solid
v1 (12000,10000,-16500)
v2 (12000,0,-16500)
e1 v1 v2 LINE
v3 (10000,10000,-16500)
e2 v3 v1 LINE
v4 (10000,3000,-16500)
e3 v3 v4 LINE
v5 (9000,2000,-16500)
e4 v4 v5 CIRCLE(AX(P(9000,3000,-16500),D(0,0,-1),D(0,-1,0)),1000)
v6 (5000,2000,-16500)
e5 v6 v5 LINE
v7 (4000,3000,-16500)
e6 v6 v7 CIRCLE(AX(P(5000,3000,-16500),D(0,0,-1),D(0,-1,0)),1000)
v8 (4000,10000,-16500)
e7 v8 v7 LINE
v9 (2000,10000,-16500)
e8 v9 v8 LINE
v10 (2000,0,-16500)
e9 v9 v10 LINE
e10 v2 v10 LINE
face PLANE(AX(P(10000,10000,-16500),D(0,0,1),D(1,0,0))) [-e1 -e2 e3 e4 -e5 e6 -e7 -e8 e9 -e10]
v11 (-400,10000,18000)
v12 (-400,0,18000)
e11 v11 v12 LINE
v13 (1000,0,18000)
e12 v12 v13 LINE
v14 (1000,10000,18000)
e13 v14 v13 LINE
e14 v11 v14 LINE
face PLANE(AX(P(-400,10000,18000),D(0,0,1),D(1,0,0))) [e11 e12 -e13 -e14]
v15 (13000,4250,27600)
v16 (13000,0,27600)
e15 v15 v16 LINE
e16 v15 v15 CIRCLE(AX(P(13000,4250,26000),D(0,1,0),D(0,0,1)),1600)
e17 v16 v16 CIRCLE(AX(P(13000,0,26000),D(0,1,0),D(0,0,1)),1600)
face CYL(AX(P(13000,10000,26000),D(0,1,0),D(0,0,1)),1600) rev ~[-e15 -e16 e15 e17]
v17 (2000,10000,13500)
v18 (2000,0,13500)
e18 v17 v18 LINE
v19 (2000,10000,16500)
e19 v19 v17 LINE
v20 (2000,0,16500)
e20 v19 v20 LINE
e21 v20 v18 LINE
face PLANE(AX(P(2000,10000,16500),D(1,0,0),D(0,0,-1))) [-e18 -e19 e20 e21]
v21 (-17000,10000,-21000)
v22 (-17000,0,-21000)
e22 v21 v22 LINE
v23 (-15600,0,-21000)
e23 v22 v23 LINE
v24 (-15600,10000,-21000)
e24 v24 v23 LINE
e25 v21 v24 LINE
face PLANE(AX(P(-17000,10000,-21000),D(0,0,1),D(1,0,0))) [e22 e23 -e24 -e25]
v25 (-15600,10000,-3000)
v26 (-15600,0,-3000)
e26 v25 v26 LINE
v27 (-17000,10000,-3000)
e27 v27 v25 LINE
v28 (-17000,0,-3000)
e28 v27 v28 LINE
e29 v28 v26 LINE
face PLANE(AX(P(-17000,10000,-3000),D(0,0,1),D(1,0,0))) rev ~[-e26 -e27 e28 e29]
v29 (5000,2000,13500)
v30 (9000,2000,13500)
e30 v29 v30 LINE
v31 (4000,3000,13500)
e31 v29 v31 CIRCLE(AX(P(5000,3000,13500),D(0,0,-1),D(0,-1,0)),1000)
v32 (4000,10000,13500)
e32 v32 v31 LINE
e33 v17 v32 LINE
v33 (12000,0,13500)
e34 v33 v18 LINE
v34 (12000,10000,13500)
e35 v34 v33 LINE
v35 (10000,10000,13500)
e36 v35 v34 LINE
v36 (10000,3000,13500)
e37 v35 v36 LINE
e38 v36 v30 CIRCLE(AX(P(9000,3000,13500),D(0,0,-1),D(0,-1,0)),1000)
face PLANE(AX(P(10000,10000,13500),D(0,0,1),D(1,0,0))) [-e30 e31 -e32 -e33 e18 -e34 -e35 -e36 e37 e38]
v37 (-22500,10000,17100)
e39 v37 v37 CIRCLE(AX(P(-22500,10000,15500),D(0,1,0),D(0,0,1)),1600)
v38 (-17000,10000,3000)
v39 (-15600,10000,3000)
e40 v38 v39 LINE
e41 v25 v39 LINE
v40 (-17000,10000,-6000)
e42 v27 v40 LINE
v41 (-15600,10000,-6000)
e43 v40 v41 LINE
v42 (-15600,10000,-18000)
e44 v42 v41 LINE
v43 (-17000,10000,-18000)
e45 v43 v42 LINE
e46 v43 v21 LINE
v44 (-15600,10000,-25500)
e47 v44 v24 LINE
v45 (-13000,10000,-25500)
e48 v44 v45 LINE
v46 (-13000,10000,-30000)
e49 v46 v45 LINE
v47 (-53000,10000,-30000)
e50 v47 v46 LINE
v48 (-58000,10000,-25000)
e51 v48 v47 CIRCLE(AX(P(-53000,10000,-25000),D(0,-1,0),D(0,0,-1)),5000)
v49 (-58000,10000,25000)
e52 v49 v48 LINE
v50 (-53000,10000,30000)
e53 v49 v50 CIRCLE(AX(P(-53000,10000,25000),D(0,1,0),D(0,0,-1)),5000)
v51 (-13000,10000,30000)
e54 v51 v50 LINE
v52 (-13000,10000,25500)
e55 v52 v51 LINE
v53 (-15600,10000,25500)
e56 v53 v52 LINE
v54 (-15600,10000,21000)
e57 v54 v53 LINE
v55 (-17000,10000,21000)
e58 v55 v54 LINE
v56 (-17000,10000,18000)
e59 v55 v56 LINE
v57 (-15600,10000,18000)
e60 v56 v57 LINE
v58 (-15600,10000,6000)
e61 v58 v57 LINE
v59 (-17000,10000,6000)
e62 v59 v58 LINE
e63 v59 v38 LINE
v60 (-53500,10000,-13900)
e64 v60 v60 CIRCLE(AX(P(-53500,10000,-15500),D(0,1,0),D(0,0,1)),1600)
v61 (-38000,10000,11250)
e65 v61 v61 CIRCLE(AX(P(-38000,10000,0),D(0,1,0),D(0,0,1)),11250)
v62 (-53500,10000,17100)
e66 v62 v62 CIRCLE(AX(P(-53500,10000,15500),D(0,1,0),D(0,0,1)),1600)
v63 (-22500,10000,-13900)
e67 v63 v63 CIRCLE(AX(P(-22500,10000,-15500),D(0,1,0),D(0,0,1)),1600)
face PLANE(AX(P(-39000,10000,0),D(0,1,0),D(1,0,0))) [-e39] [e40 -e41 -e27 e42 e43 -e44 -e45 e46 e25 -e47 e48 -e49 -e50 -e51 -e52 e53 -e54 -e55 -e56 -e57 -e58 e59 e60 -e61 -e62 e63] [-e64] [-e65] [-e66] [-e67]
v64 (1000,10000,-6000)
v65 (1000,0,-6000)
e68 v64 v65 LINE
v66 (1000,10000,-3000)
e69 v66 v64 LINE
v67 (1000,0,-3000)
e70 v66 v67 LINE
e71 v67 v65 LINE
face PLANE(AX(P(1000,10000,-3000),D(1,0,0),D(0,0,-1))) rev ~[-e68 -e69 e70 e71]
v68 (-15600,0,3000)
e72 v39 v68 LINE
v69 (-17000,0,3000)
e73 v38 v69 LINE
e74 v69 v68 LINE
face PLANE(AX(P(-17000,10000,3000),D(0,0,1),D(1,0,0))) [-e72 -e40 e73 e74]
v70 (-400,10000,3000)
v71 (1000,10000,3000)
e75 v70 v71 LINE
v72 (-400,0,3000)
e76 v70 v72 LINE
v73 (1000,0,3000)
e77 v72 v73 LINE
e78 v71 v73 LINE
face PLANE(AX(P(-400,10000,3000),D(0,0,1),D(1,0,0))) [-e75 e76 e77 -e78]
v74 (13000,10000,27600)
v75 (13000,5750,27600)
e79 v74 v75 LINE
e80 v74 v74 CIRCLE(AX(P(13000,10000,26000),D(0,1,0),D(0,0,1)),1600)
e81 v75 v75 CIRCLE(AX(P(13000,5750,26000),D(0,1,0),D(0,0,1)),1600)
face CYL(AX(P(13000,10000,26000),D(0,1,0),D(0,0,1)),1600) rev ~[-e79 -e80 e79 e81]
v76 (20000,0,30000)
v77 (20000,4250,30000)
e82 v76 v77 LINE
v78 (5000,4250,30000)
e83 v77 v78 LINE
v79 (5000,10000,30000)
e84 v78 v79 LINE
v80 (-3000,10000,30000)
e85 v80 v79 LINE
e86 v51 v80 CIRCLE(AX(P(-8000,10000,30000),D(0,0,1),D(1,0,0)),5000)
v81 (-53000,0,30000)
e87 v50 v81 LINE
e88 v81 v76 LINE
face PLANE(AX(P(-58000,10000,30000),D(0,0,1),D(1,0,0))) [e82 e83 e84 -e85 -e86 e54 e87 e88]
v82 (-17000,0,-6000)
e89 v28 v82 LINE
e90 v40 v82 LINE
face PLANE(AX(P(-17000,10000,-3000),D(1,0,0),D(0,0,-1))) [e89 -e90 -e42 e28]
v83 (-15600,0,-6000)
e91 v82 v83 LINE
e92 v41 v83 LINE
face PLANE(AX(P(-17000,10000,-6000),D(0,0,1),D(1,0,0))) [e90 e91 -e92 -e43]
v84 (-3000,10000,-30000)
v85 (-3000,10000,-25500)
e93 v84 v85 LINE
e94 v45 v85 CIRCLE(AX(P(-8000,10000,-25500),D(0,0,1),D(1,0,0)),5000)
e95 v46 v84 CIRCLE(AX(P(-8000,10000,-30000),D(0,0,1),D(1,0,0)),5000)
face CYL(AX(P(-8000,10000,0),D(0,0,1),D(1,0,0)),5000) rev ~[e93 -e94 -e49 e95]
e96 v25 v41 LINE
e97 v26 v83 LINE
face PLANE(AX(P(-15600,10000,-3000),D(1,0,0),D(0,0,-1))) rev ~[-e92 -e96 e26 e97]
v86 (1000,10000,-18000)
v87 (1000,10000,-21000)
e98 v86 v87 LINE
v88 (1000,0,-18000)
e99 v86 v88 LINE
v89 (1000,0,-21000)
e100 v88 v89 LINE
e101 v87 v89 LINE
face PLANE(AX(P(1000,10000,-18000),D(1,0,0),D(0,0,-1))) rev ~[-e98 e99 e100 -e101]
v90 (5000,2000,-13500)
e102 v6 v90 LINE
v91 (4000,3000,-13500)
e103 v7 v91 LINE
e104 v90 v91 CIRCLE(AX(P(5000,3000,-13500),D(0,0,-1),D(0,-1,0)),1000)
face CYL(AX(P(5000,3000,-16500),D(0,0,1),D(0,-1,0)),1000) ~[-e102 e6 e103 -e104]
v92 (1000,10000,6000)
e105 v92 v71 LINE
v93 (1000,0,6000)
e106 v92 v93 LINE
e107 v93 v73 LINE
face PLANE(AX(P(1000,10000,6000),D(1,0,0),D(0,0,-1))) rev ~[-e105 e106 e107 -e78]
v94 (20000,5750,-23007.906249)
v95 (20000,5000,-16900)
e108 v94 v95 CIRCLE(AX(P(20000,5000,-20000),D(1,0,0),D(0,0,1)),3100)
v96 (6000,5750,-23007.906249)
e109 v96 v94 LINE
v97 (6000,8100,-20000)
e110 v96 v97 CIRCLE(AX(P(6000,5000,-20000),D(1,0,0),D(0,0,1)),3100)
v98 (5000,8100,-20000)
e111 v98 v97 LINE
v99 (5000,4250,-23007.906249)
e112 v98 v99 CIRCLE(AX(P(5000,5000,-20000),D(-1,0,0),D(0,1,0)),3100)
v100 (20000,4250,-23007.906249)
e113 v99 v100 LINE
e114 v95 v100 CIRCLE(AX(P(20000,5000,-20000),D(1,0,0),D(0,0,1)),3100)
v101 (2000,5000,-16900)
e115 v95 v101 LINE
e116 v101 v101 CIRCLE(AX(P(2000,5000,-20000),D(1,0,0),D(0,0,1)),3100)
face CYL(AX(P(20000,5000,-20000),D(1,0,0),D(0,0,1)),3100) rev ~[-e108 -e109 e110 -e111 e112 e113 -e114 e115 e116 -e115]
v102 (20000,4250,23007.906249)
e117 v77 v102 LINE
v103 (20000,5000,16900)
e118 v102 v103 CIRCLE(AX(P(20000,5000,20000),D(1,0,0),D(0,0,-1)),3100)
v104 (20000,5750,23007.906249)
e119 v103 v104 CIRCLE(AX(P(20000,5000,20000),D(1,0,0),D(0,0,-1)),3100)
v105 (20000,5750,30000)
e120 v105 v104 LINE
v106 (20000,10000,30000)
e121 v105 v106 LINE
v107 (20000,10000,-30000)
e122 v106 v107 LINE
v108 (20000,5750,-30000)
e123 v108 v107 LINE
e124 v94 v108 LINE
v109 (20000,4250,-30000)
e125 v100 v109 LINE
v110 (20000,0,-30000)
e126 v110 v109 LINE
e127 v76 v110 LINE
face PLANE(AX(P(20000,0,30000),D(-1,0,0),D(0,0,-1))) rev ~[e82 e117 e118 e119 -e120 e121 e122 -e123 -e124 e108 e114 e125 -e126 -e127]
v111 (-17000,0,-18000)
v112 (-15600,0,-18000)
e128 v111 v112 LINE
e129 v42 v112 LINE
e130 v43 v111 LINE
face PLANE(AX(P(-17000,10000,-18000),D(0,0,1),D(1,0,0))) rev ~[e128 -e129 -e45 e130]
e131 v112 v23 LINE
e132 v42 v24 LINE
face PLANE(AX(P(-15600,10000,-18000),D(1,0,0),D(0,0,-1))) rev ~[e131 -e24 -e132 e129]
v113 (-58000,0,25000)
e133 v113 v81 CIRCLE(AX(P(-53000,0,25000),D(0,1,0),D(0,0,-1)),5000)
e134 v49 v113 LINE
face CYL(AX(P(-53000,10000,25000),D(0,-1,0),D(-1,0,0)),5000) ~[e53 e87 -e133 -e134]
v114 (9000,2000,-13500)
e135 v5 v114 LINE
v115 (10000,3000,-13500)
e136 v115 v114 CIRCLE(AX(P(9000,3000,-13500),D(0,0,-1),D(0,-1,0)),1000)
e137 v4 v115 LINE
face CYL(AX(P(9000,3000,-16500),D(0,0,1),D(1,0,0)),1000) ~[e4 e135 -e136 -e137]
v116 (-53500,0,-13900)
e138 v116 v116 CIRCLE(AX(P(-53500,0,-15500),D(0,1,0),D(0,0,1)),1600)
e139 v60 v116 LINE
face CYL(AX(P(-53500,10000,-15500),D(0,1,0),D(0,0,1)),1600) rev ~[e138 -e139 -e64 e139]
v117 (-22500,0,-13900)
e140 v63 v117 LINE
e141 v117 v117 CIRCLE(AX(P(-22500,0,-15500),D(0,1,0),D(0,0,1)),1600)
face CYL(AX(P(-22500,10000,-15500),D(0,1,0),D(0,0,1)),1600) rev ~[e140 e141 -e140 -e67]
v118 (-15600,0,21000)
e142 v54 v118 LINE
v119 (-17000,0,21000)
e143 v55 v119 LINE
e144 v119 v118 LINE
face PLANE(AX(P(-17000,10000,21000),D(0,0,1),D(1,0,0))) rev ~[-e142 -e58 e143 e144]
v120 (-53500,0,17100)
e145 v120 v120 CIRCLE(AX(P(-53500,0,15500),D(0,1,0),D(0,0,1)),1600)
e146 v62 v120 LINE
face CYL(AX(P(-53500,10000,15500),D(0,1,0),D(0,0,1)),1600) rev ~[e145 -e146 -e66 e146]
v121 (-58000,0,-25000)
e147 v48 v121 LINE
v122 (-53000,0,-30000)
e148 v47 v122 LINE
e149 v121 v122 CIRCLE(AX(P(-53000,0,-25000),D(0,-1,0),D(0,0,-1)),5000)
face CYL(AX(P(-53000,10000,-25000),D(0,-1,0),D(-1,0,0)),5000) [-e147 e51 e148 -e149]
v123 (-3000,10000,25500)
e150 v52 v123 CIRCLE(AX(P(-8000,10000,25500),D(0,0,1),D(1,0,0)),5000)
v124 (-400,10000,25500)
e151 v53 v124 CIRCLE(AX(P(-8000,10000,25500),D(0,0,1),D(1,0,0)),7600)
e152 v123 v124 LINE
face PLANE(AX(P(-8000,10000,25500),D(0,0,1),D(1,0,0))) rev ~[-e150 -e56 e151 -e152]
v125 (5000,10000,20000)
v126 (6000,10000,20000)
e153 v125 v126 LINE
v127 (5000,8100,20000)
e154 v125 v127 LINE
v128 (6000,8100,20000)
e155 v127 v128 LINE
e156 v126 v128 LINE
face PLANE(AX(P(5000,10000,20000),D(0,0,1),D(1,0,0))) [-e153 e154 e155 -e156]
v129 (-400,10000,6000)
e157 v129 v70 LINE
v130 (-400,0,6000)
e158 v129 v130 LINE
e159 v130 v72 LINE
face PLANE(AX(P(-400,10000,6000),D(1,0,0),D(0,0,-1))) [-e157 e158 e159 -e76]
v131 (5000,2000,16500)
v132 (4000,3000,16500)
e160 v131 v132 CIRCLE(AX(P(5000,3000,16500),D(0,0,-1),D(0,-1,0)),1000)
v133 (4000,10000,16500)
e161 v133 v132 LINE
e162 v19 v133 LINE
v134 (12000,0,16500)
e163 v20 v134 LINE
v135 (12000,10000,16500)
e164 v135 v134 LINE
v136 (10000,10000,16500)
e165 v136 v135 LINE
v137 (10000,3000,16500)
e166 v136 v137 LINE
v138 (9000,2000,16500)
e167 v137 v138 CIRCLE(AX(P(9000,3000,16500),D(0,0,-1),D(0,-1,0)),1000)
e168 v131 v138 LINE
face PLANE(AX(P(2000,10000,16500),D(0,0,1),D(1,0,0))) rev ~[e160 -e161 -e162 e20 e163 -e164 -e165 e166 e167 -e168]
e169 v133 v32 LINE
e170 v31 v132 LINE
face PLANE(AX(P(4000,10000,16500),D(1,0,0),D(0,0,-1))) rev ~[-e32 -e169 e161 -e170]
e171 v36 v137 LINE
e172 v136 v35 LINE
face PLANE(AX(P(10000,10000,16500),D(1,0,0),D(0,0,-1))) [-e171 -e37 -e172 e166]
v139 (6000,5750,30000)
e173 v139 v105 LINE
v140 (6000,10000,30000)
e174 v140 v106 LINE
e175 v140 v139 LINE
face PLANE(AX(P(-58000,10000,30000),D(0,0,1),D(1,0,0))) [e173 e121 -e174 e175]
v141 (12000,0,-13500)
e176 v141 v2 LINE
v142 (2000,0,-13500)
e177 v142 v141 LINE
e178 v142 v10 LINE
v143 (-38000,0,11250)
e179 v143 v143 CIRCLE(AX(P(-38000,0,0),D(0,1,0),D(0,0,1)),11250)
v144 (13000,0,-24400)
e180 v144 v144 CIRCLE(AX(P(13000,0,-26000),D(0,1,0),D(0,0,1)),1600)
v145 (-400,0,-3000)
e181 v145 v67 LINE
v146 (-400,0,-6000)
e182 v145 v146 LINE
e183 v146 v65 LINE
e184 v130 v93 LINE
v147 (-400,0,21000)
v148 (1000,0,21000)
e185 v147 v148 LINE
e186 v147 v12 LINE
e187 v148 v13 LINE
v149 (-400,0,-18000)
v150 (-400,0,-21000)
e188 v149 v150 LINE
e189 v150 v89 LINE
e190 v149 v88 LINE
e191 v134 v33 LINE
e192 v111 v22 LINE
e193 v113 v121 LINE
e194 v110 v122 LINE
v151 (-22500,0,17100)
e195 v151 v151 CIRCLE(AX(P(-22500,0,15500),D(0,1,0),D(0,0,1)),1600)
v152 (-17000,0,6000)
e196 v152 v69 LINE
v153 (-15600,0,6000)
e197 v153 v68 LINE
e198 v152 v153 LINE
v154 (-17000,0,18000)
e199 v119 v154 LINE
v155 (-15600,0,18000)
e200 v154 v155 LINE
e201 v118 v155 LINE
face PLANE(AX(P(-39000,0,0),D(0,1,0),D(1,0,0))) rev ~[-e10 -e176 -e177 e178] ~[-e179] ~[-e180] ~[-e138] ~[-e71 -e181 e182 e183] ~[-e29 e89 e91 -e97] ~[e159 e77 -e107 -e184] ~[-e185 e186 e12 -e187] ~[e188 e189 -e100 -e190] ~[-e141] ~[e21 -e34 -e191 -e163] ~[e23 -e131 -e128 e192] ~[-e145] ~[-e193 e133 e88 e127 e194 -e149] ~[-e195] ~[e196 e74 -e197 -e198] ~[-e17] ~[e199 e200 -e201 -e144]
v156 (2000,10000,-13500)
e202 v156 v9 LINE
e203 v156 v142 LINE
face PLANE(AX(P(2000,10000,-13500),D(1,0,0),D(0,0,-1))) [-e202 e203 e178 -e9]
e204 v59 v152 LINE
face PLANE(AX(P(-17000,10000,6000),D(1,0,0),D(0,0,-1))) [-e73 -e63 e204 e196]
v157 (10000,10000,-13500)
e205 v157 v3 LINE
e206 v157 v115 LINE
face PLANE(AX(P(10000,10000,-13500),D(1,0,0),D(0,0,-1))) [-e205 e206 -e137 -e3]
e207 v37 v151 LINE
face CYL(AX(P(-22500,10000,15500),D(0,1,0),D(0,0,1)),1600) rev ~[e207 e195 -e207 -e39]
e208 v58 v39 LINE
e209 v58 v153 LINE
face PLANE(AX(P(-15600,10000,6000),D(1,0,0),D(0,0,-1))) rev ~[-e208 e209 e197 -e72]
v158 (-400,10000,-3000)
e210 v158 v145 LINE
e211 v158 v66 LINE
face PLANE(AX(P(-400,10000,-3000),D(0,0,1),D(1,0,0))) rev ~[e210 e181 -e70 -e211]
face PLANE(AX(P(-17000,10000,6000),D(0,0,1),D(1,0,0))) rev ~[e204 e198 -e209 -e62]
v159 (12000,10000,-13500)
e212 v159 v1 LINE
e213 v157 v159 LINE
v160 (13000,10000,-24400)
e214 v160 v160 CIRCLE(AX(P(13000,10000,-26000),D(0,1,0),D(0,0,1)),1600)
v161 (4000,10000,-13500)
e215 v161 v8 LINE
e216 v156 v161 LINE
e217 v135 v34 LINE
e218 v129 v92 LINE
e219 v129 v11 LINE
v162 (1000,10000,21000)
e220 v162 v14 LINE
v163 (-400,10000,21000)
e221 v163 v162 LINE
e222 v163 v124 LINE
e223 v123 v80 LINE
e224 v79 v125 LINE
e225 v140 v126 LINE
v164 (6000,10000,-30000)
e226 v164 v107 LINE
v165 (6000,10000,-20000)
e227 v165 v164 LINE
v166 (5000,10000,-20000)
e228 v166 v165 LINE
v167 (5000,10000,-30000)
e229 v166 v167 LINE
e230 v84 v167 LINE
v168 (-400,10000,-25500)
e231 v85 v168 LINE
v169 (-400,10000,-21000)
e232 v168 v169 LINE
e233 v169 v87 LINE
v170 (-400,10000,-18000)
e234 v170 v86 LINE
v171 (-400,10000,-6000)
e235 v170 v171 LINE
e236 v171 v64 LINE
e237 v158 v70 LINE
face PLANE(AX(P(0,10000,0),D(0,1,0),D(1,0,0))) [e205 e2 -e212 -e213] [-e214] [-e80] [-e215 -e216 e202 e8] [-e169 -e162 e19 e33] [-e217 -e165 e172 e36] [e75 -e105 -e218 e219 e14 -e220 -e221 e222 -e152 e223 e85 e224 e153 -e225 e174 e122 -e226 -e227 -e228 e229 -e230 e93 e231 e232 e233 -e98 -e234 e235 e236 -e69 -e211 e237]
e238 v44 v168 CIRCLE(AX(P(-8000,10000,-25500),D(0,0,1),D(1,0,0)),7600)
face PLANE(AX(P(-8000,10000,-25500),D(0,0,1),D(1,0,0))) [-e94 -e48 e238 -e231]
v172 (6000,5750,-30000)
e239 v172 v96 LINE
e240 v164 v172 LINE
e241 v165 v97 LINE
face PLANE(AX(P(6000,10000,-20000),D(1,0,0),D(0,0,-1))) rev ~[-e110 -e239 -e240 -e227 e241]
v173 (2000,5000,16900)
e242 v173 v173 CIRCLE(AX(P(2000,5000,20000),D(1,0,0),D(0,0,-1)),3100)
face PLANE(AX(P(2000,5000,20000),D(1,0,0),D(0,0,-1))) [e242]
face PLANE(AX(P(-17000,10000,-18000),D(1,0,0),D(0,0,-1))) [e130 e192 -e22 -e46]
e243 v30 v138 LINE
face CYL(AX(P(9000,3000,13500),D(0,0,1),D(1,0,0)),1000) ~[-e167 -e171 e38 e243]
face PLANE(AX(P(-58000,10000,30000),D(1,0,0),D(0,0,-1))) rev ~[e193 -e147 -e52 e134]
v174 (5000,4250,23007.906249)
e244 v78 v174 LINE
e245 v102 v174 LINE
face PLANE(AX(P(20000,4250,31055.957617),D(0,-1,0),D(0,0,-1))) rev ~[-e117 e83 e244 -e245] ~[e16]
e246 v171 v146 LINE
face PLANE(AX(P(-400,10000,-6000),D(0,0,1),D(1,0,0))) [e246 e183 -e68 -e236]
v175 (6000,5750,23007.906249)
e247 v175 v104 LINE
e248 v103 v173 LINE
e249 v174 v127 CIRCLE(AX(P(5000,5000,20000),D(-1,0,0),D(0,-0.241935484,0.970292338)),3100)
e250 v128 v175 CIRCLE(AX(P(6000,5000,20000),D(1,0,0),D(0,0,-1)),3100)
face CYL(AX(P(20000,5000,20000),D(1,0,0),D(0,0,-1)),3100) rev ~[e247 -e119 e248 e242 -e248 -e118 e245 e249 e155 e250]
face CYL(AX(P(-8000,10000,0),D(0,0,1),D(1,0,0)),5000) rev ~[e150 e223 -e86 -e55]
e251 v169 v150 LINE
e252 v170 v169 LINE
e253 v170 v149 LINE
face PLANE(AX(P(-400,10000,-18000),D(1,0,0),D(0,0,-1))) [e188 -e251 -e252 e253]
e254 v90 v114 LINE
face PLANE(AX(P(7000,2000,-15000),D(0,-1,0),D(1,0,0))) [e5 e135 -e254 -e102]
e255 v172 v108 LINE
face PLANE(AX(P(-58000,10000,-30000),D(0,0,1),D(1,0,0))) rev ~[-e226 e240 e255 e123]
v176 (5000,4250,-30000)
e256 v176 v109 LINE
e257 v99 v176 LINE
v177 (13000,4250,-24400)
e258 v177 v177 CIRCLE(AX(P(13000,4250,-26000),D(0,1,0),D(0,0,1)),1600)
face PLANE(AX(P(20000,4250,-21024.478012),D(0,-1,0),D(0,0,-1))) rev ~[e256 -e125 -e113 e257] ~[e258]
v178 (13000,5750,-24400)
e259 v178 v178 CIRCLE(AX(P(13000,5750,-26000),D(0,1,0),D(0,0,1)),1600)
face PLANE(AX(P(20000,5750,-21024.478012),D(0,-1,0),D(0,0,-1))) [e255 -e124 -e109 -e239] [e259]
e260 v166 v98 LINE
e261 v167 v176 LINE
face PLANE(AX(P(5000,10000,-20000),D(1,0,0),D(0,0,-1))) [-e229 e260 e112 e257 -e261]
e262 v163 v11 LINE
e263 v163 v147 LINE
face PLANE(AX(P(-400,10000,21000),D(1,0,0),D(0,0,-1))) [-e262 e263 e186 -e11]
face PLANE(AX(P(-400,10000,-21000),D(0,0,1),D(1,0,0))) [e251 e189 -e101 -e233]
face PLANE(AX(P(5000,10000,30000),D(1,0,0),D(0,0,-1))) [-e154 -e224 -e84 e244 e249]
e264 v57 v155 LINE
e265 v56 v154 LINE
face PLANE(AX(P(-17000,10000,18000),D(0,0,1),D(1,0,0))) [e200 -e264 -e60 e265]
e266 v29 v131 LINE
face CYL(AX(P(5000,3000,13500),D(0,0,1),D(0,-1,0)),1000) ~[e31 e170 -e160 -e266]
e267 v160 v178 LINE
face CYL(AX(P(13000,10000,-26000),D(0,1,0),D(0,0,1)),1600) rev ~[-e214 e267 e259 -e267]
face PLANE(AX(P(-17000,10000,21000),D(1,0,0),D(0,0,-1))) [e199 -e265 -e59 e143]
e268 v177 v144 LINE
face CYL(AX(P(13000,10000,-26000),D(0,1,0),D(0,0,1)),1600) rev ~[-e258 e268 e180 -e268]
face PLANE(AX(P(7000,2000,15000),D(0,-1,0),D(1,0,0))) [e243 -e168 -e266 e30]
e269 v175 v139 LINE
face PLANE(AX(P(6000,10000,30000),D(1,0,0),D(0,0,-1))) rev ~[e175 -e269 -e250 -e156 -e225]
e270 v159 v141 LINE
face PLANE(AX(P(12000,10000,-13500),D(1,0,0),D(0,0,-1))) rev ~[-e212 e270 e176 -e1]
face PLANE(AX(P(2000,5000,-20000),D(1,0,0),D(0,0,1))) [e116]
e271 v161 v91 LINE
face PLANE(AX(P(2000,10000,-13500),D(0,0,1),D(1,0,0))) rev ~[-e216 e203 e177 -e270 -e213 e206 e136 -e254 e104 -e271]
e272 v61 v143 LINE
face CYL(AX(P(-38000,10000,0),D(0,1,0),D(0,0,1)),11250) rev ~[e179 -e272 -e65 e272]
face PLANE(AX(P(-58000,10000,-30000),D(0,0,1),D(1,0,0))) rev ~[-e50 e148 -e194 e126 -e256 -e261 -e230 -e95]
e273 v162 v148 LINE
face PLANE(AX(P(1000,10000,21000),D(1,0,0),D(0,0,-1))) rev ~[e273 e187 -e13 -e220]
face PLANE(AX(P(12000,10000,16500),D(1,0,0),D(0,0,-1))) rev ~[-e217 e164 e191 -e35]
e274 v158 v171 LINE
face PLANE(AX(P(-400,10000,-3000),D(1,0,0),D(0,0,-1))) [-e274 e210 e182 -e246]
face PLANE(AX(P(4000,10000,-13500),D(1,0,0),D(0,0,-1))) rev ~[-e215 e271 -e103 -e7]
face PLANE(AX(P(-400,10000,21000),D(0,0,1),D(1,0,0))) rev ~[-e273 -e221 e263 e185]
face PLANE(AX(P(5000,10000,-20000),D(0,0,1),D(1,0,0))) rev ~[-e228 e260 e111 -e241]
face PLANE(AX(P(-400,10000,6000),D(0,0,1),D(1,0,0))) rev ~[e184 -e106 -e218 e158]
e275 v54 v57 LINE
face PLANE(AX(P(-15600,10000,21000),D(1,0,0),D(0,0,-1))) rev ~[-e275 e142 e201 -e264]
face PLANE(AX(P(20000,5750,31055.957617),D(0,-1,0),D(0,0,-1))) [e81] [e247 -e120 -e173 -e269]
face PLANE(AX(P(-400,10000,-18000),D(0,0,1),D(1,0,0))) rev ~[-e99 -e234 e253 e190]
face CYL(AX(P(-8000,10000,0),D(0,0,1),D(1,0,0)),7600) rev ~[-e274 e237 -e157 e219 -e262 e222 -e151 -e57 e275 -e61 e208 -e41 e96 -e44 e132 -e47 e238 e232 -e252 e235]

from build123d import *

# Parameters (mm, degrees)
SKETCH_2_W           = 40000
SKETCH_2_H           = 60000
EXTRUDE_1_DEPTH      = 10000
SKETCH_4_R           = 7600
CUT_EXTRUDE_2_DEPTH  = 25500
SKETCH_5_R           = 5000
CUT_EXTRUDE_3_DEPTH  = 40000
SKETCH_6_W           = 2000
SKETCH_6_H           = 3000
CUT_EXTRUDE_4_DEPTH  = 80000
SKETCH_12_W          = 38000
SKETCH_12_H          = 60000
SKETCH_12_R          = 1600
SKETCH_12_R_2        = 11250
EXTRUDE_2_DEPTH      = 10000
SKETCH_13_R          = 3100
CUT_EXTRUDE_6_DEPTH  = 18000
SKETCH_16_W          = 10031.479605139
SKETCH_16_H          = 1500
CUT_EXTRUDE_7_DEPTH  = 15000
CUT_EXTRUDE_8_REACH  = 66062.578
SKETCH_17_W          = 1000
SKETCH_17_H          = 10000
SKETCH_18_R          = 1600
CUT_EXTRUDE_9_DEPTH  = 15000
SKETCH_19_W          = 1400
SKETCH_19_H          = 3000
CUT_EXTRUDE_10_DEPTH = 15000
FILLET_1_R           = 5000
SKETCH_20_W          = 6000
SKETCH_20_H          = 3000
CUT_EXTRUDE_11_DEPTH = 2000
FILLET_2_R           = 1000


with BuildPart() as part:
    # 草圖2 → 填料-伸長1 (new body)
    with BuildSketch(Plane(origin=(0, 0, 0), x_dir=(1, 0, 0), z_dir=(0, 1, 0))):
        Rectangle(SKETCH_2_W, SKETCH_2_H)
    extrude(amount=EXTRUDE_1_DEPTH)

    # 草圖4 → 除料-伸長2 (cut, symmetric)
    with BuildSketch(Plane.XY):
        with Locations((-8000, 10000)):
            Circle(SKETCH_4_R)
    extrude(amount=CUT_EXTRUDE_2_DEPTH, both=True, mode=Mode.SUBTRACT)

    # 草圖5 → 除料-伸長3 (cut, symmetric)
    with BuildSketch(Plane.XY):
        with Locations((-8000, 10000)):
            Circle(SKETCH_5_R)
    extrude(amount=CUT_EXTRUDE_3_DEPTH, both=True, mode=Mode.SUBTRACT)

    # 草圖6 → 除料-伸長4 (cut)
    with BuildSketch(Plane(origin=(0, 10000, 0), x_dir=(1, 0, 0), z_dir=(0, 1, 0))):
        with Locations((11000, -15000)):
            Rectangle(SKETCH_6_W, SKETCH_6_H)
        with Locations((3000, 15000)):
            Rectangle(SKETCH_6_W, SKETCH_6_H)
        with Locations((11000, 15000)):
            Rectangle(SKETCH_6_W, SKETCH_6_H)
        with Locations((3000, -15000)):
            Rectangle(SKETCH_6_W, SKETCH_6_H)
    extrude(amount=-CUT_EXTRUDE_4_DEPTH, mode=Mode.SUBTRACT)

    # 草圖12 → 填料-伸長2 (add)
    with BuildSketch(Plane(origin=(0, 10000, 0), x_dir=(1, 0, 0), z_dir=(0, 1, 0))):
        with Locations((-39000, 0)):
            Rectangle(SKETCH_12_W, SKETCH_12_H)
        with Locations(Location((-53500, 15500, 0), (0, 0, 270))):
            Circle(SKETCH_12_R, mode=Mode.SUBTRACT)
        with Locations(Location((-22500, 15500, 0), (0, 0, 270))):
            Circle(SKETCH_12_R, mode=Mode.SUBTRACT)
        with Locations(Location((-53500, -15500, 0), (0, 0, 270))):
            Circle(SKETCH_12_R, mode=Mode.SUBTRACT)
        with Locations(Location((-22500, -15500, 0), (0, 0, 270))):
            Circle(SKETCH_12_R, mode=Mode.SUBTRACT)
        with Locations(Location((-38000, 0, 0), (0, 0, 270))):
            Circle(SKETCH_12_R_2, mode=Mode.SUBTRACT)
    extrude(amount=-EXTRUDE_2_DEPTH)

    # 草圖13 → 除料-伸長6 (cut)
    with BuildSketch(Plane(origin=(20000, 0, 0), x_dir=(0, 0, -1), z_dir=(1, 0, 0))):
        with Locations((-20000, 5000)):
            Circle(SKETCH_13_R)
        with Locations(Location((20000, 5000, 0), (0, 0, 180))):
            Circle(SKETCH_13_R)
    extrude(amount=-CUT_EXTRUDE_6_DEPTH, mode=Mode.SUBTRACT)

    # 草圖16 → 除料-伸長7 (cut)
    with BuildSketch(Plane(origin=(20000, 0, 0), x_dir=(0, 0, -1), z_dir=(1, 0, 0))):
        with Locations((-26040.217814772, 5000)):
            Rectangle(SKETCH_16_W, SKETCH_16_H)
        with Locations((26040.217814772, 5000)):
            Rectangle(SKETCH_16_W, SKETCH_16_H)
    extrude(amount=-CUT_EXTRUDE_7_DEPTH, mode=Mode.SUBTRACT)

    # 除料-伸長8: up to this face of the body (flat: up to its plane)
    cut_extrude_8_end = Plane(part.part.faces().sort_by_distance((12500, 4250, -26503.95312427))[0])
    # 草圖17 → 除料-伸長8 (cut, up to the picked face)
    with BuildSketch(Plane(origin=(0, 10000, 0), x_dir=(1, 0, 0), z_dir=(0, 1, 0)), mode=Mode.PRIVATE) as cut_extrude_8_sk1:
        with Locations((5500, 25000)):
            Rectangle(SKETCH_17_W, SKETCH_17_H)
    cut_extrude_8_tool1 = split(extrude(cut_extrude_8_sk1.sketch, amount=-CUT_EXTRUDE_8_REACH, mode=Mode.PRIVATE), bisect_by=cut_extrude_8_end, keep=Keep.BOTH, mode=Mode.PRIVATE)
    # 草圖17 → 除料-伸長8 (cut, up to the picked face)
    with BuildSketch(Plane(origin=(0, 10000, 0), x_dir=(1, 0, 0), z_dir=(0, 1, 0)), mode=Mode.PRIVATE) as cut_extrude_8_sk2:
        with Locations((5500, -25000)):
            Rectangle(SKETCH_17_W, SKETCH_17_H)
    cut_extrude_8_tool2 = split(extrude(cut_extrude_8_sk2.sketch, amount=-CUT_EXTRUDE_8_REACH, mode=Mode.PRIVATE), bisect_by=cut_extrude_8_end, keep=Keep.BOTH, mode=Mode.PRIVATE)
    add(cut_extrude_8_tool1.solids().sort_by(Axis((5500, 10000, -25000), (0, -1, 0)))[0], mode=Mode.SUBTRACT)
    add(cut_extrude_8_tool2.solids().sort_by(Axis((5500, 10000, 25000), (0, -1, 0)))[0], mode=Mode.SUBTRACT)

    # 草圖18 → 除料-伸長9 (cut)
    with BuildSketch(Plane(origin=(0, 10000, 0), x_dir=(1, 0, 0), z_dir=(0, 1, 0))):
        with Locations(Location((13000, 26000, 0), (0, 0, 270))):
            Circle(SKETCH_18_R)
        with Locations(Location((13000, -26000, 0), (0, 0, 270))):
            Circle(SKETCH_18_R)
    extrude(amount=-CUT_EXTRUDE_9_DEPTH, mode=Mode.SUBTRACT)

    # 草圖19 → 除料-伸長10 (cut)
    with BuildSketch(Plane(origin=(0, 10000, 0), x_dir=(1, 0, 0), z_dir=(0, 1, 0))):
        with Locations((-16300, 19500)):
            Rectangle(SKETCH_19_W, SKETCH_19_H)
        with Locations((-16300, 4500)):
            Rectangle(SKETCH_19_W, SKETCH_19_H)
        with Locations((-16300, -4500)):
            Rectangle(SKETCH_19_W, SKETCH_19_H)
        with Locations((-16300, -19500)):
            Rectangle(SKETCH_19_W, SKETCH_19_H)
        with Locations((300, -19500)):
            Rectangle(SKETCH_19_W, SKETCH_19_H)
        with Locations((300, -4500)):
            Rectangle(SKETCH_19_W, SKETCH_19_H)
        with Locations((300, 4500)):
            Rectangle(SKETCH_19_W, SKETCH_19_H)
        with Locations((300, 19500)):
            Rectangle(SKETCH_19_W, SKETCH_19_H)
    extrude(amount=-CUT_EXTRUDE_10_DEPTH, mode=Mode.SUBTRACT)

    # 圓角1
    fillet_1_edges = [part.edges().sort_by_distance(p)[0] for p in [
        (-58000, 5000, 30000),
        (-58000, 5000, -30000),
    ]]
    fillet(fillet_1_edges, radius=FILLET_1_R)

    # 草圖20 → 除料-伸長11 (cut)
    with BuildSketch(Plane.XZ):
        with Locations((7000, 15000)):
            Rectangle(SKETCH_20_W, SKETCH_20_H)
        with Locations((7000, -15000)):
            Rectangle(SKETCH_20_W, SKETCH_20_H)
    extrude(amount=-CUT_EXTRUDE_11_DEPTH, mode=Mode.SUBTRACT)

    # 圓角2
    fillet_2_edges = [part.edges().sort_by_distance(p)[0] for p in [
        (4000, 2000, 15000),
        (10000, 2000, 15000),
        (4000, 2000, -15000),
        (10000, 2000, -15000),
    ]]
    fillet(fillet_2_edges, radius=FILLET_2_R)


solid = part.part
